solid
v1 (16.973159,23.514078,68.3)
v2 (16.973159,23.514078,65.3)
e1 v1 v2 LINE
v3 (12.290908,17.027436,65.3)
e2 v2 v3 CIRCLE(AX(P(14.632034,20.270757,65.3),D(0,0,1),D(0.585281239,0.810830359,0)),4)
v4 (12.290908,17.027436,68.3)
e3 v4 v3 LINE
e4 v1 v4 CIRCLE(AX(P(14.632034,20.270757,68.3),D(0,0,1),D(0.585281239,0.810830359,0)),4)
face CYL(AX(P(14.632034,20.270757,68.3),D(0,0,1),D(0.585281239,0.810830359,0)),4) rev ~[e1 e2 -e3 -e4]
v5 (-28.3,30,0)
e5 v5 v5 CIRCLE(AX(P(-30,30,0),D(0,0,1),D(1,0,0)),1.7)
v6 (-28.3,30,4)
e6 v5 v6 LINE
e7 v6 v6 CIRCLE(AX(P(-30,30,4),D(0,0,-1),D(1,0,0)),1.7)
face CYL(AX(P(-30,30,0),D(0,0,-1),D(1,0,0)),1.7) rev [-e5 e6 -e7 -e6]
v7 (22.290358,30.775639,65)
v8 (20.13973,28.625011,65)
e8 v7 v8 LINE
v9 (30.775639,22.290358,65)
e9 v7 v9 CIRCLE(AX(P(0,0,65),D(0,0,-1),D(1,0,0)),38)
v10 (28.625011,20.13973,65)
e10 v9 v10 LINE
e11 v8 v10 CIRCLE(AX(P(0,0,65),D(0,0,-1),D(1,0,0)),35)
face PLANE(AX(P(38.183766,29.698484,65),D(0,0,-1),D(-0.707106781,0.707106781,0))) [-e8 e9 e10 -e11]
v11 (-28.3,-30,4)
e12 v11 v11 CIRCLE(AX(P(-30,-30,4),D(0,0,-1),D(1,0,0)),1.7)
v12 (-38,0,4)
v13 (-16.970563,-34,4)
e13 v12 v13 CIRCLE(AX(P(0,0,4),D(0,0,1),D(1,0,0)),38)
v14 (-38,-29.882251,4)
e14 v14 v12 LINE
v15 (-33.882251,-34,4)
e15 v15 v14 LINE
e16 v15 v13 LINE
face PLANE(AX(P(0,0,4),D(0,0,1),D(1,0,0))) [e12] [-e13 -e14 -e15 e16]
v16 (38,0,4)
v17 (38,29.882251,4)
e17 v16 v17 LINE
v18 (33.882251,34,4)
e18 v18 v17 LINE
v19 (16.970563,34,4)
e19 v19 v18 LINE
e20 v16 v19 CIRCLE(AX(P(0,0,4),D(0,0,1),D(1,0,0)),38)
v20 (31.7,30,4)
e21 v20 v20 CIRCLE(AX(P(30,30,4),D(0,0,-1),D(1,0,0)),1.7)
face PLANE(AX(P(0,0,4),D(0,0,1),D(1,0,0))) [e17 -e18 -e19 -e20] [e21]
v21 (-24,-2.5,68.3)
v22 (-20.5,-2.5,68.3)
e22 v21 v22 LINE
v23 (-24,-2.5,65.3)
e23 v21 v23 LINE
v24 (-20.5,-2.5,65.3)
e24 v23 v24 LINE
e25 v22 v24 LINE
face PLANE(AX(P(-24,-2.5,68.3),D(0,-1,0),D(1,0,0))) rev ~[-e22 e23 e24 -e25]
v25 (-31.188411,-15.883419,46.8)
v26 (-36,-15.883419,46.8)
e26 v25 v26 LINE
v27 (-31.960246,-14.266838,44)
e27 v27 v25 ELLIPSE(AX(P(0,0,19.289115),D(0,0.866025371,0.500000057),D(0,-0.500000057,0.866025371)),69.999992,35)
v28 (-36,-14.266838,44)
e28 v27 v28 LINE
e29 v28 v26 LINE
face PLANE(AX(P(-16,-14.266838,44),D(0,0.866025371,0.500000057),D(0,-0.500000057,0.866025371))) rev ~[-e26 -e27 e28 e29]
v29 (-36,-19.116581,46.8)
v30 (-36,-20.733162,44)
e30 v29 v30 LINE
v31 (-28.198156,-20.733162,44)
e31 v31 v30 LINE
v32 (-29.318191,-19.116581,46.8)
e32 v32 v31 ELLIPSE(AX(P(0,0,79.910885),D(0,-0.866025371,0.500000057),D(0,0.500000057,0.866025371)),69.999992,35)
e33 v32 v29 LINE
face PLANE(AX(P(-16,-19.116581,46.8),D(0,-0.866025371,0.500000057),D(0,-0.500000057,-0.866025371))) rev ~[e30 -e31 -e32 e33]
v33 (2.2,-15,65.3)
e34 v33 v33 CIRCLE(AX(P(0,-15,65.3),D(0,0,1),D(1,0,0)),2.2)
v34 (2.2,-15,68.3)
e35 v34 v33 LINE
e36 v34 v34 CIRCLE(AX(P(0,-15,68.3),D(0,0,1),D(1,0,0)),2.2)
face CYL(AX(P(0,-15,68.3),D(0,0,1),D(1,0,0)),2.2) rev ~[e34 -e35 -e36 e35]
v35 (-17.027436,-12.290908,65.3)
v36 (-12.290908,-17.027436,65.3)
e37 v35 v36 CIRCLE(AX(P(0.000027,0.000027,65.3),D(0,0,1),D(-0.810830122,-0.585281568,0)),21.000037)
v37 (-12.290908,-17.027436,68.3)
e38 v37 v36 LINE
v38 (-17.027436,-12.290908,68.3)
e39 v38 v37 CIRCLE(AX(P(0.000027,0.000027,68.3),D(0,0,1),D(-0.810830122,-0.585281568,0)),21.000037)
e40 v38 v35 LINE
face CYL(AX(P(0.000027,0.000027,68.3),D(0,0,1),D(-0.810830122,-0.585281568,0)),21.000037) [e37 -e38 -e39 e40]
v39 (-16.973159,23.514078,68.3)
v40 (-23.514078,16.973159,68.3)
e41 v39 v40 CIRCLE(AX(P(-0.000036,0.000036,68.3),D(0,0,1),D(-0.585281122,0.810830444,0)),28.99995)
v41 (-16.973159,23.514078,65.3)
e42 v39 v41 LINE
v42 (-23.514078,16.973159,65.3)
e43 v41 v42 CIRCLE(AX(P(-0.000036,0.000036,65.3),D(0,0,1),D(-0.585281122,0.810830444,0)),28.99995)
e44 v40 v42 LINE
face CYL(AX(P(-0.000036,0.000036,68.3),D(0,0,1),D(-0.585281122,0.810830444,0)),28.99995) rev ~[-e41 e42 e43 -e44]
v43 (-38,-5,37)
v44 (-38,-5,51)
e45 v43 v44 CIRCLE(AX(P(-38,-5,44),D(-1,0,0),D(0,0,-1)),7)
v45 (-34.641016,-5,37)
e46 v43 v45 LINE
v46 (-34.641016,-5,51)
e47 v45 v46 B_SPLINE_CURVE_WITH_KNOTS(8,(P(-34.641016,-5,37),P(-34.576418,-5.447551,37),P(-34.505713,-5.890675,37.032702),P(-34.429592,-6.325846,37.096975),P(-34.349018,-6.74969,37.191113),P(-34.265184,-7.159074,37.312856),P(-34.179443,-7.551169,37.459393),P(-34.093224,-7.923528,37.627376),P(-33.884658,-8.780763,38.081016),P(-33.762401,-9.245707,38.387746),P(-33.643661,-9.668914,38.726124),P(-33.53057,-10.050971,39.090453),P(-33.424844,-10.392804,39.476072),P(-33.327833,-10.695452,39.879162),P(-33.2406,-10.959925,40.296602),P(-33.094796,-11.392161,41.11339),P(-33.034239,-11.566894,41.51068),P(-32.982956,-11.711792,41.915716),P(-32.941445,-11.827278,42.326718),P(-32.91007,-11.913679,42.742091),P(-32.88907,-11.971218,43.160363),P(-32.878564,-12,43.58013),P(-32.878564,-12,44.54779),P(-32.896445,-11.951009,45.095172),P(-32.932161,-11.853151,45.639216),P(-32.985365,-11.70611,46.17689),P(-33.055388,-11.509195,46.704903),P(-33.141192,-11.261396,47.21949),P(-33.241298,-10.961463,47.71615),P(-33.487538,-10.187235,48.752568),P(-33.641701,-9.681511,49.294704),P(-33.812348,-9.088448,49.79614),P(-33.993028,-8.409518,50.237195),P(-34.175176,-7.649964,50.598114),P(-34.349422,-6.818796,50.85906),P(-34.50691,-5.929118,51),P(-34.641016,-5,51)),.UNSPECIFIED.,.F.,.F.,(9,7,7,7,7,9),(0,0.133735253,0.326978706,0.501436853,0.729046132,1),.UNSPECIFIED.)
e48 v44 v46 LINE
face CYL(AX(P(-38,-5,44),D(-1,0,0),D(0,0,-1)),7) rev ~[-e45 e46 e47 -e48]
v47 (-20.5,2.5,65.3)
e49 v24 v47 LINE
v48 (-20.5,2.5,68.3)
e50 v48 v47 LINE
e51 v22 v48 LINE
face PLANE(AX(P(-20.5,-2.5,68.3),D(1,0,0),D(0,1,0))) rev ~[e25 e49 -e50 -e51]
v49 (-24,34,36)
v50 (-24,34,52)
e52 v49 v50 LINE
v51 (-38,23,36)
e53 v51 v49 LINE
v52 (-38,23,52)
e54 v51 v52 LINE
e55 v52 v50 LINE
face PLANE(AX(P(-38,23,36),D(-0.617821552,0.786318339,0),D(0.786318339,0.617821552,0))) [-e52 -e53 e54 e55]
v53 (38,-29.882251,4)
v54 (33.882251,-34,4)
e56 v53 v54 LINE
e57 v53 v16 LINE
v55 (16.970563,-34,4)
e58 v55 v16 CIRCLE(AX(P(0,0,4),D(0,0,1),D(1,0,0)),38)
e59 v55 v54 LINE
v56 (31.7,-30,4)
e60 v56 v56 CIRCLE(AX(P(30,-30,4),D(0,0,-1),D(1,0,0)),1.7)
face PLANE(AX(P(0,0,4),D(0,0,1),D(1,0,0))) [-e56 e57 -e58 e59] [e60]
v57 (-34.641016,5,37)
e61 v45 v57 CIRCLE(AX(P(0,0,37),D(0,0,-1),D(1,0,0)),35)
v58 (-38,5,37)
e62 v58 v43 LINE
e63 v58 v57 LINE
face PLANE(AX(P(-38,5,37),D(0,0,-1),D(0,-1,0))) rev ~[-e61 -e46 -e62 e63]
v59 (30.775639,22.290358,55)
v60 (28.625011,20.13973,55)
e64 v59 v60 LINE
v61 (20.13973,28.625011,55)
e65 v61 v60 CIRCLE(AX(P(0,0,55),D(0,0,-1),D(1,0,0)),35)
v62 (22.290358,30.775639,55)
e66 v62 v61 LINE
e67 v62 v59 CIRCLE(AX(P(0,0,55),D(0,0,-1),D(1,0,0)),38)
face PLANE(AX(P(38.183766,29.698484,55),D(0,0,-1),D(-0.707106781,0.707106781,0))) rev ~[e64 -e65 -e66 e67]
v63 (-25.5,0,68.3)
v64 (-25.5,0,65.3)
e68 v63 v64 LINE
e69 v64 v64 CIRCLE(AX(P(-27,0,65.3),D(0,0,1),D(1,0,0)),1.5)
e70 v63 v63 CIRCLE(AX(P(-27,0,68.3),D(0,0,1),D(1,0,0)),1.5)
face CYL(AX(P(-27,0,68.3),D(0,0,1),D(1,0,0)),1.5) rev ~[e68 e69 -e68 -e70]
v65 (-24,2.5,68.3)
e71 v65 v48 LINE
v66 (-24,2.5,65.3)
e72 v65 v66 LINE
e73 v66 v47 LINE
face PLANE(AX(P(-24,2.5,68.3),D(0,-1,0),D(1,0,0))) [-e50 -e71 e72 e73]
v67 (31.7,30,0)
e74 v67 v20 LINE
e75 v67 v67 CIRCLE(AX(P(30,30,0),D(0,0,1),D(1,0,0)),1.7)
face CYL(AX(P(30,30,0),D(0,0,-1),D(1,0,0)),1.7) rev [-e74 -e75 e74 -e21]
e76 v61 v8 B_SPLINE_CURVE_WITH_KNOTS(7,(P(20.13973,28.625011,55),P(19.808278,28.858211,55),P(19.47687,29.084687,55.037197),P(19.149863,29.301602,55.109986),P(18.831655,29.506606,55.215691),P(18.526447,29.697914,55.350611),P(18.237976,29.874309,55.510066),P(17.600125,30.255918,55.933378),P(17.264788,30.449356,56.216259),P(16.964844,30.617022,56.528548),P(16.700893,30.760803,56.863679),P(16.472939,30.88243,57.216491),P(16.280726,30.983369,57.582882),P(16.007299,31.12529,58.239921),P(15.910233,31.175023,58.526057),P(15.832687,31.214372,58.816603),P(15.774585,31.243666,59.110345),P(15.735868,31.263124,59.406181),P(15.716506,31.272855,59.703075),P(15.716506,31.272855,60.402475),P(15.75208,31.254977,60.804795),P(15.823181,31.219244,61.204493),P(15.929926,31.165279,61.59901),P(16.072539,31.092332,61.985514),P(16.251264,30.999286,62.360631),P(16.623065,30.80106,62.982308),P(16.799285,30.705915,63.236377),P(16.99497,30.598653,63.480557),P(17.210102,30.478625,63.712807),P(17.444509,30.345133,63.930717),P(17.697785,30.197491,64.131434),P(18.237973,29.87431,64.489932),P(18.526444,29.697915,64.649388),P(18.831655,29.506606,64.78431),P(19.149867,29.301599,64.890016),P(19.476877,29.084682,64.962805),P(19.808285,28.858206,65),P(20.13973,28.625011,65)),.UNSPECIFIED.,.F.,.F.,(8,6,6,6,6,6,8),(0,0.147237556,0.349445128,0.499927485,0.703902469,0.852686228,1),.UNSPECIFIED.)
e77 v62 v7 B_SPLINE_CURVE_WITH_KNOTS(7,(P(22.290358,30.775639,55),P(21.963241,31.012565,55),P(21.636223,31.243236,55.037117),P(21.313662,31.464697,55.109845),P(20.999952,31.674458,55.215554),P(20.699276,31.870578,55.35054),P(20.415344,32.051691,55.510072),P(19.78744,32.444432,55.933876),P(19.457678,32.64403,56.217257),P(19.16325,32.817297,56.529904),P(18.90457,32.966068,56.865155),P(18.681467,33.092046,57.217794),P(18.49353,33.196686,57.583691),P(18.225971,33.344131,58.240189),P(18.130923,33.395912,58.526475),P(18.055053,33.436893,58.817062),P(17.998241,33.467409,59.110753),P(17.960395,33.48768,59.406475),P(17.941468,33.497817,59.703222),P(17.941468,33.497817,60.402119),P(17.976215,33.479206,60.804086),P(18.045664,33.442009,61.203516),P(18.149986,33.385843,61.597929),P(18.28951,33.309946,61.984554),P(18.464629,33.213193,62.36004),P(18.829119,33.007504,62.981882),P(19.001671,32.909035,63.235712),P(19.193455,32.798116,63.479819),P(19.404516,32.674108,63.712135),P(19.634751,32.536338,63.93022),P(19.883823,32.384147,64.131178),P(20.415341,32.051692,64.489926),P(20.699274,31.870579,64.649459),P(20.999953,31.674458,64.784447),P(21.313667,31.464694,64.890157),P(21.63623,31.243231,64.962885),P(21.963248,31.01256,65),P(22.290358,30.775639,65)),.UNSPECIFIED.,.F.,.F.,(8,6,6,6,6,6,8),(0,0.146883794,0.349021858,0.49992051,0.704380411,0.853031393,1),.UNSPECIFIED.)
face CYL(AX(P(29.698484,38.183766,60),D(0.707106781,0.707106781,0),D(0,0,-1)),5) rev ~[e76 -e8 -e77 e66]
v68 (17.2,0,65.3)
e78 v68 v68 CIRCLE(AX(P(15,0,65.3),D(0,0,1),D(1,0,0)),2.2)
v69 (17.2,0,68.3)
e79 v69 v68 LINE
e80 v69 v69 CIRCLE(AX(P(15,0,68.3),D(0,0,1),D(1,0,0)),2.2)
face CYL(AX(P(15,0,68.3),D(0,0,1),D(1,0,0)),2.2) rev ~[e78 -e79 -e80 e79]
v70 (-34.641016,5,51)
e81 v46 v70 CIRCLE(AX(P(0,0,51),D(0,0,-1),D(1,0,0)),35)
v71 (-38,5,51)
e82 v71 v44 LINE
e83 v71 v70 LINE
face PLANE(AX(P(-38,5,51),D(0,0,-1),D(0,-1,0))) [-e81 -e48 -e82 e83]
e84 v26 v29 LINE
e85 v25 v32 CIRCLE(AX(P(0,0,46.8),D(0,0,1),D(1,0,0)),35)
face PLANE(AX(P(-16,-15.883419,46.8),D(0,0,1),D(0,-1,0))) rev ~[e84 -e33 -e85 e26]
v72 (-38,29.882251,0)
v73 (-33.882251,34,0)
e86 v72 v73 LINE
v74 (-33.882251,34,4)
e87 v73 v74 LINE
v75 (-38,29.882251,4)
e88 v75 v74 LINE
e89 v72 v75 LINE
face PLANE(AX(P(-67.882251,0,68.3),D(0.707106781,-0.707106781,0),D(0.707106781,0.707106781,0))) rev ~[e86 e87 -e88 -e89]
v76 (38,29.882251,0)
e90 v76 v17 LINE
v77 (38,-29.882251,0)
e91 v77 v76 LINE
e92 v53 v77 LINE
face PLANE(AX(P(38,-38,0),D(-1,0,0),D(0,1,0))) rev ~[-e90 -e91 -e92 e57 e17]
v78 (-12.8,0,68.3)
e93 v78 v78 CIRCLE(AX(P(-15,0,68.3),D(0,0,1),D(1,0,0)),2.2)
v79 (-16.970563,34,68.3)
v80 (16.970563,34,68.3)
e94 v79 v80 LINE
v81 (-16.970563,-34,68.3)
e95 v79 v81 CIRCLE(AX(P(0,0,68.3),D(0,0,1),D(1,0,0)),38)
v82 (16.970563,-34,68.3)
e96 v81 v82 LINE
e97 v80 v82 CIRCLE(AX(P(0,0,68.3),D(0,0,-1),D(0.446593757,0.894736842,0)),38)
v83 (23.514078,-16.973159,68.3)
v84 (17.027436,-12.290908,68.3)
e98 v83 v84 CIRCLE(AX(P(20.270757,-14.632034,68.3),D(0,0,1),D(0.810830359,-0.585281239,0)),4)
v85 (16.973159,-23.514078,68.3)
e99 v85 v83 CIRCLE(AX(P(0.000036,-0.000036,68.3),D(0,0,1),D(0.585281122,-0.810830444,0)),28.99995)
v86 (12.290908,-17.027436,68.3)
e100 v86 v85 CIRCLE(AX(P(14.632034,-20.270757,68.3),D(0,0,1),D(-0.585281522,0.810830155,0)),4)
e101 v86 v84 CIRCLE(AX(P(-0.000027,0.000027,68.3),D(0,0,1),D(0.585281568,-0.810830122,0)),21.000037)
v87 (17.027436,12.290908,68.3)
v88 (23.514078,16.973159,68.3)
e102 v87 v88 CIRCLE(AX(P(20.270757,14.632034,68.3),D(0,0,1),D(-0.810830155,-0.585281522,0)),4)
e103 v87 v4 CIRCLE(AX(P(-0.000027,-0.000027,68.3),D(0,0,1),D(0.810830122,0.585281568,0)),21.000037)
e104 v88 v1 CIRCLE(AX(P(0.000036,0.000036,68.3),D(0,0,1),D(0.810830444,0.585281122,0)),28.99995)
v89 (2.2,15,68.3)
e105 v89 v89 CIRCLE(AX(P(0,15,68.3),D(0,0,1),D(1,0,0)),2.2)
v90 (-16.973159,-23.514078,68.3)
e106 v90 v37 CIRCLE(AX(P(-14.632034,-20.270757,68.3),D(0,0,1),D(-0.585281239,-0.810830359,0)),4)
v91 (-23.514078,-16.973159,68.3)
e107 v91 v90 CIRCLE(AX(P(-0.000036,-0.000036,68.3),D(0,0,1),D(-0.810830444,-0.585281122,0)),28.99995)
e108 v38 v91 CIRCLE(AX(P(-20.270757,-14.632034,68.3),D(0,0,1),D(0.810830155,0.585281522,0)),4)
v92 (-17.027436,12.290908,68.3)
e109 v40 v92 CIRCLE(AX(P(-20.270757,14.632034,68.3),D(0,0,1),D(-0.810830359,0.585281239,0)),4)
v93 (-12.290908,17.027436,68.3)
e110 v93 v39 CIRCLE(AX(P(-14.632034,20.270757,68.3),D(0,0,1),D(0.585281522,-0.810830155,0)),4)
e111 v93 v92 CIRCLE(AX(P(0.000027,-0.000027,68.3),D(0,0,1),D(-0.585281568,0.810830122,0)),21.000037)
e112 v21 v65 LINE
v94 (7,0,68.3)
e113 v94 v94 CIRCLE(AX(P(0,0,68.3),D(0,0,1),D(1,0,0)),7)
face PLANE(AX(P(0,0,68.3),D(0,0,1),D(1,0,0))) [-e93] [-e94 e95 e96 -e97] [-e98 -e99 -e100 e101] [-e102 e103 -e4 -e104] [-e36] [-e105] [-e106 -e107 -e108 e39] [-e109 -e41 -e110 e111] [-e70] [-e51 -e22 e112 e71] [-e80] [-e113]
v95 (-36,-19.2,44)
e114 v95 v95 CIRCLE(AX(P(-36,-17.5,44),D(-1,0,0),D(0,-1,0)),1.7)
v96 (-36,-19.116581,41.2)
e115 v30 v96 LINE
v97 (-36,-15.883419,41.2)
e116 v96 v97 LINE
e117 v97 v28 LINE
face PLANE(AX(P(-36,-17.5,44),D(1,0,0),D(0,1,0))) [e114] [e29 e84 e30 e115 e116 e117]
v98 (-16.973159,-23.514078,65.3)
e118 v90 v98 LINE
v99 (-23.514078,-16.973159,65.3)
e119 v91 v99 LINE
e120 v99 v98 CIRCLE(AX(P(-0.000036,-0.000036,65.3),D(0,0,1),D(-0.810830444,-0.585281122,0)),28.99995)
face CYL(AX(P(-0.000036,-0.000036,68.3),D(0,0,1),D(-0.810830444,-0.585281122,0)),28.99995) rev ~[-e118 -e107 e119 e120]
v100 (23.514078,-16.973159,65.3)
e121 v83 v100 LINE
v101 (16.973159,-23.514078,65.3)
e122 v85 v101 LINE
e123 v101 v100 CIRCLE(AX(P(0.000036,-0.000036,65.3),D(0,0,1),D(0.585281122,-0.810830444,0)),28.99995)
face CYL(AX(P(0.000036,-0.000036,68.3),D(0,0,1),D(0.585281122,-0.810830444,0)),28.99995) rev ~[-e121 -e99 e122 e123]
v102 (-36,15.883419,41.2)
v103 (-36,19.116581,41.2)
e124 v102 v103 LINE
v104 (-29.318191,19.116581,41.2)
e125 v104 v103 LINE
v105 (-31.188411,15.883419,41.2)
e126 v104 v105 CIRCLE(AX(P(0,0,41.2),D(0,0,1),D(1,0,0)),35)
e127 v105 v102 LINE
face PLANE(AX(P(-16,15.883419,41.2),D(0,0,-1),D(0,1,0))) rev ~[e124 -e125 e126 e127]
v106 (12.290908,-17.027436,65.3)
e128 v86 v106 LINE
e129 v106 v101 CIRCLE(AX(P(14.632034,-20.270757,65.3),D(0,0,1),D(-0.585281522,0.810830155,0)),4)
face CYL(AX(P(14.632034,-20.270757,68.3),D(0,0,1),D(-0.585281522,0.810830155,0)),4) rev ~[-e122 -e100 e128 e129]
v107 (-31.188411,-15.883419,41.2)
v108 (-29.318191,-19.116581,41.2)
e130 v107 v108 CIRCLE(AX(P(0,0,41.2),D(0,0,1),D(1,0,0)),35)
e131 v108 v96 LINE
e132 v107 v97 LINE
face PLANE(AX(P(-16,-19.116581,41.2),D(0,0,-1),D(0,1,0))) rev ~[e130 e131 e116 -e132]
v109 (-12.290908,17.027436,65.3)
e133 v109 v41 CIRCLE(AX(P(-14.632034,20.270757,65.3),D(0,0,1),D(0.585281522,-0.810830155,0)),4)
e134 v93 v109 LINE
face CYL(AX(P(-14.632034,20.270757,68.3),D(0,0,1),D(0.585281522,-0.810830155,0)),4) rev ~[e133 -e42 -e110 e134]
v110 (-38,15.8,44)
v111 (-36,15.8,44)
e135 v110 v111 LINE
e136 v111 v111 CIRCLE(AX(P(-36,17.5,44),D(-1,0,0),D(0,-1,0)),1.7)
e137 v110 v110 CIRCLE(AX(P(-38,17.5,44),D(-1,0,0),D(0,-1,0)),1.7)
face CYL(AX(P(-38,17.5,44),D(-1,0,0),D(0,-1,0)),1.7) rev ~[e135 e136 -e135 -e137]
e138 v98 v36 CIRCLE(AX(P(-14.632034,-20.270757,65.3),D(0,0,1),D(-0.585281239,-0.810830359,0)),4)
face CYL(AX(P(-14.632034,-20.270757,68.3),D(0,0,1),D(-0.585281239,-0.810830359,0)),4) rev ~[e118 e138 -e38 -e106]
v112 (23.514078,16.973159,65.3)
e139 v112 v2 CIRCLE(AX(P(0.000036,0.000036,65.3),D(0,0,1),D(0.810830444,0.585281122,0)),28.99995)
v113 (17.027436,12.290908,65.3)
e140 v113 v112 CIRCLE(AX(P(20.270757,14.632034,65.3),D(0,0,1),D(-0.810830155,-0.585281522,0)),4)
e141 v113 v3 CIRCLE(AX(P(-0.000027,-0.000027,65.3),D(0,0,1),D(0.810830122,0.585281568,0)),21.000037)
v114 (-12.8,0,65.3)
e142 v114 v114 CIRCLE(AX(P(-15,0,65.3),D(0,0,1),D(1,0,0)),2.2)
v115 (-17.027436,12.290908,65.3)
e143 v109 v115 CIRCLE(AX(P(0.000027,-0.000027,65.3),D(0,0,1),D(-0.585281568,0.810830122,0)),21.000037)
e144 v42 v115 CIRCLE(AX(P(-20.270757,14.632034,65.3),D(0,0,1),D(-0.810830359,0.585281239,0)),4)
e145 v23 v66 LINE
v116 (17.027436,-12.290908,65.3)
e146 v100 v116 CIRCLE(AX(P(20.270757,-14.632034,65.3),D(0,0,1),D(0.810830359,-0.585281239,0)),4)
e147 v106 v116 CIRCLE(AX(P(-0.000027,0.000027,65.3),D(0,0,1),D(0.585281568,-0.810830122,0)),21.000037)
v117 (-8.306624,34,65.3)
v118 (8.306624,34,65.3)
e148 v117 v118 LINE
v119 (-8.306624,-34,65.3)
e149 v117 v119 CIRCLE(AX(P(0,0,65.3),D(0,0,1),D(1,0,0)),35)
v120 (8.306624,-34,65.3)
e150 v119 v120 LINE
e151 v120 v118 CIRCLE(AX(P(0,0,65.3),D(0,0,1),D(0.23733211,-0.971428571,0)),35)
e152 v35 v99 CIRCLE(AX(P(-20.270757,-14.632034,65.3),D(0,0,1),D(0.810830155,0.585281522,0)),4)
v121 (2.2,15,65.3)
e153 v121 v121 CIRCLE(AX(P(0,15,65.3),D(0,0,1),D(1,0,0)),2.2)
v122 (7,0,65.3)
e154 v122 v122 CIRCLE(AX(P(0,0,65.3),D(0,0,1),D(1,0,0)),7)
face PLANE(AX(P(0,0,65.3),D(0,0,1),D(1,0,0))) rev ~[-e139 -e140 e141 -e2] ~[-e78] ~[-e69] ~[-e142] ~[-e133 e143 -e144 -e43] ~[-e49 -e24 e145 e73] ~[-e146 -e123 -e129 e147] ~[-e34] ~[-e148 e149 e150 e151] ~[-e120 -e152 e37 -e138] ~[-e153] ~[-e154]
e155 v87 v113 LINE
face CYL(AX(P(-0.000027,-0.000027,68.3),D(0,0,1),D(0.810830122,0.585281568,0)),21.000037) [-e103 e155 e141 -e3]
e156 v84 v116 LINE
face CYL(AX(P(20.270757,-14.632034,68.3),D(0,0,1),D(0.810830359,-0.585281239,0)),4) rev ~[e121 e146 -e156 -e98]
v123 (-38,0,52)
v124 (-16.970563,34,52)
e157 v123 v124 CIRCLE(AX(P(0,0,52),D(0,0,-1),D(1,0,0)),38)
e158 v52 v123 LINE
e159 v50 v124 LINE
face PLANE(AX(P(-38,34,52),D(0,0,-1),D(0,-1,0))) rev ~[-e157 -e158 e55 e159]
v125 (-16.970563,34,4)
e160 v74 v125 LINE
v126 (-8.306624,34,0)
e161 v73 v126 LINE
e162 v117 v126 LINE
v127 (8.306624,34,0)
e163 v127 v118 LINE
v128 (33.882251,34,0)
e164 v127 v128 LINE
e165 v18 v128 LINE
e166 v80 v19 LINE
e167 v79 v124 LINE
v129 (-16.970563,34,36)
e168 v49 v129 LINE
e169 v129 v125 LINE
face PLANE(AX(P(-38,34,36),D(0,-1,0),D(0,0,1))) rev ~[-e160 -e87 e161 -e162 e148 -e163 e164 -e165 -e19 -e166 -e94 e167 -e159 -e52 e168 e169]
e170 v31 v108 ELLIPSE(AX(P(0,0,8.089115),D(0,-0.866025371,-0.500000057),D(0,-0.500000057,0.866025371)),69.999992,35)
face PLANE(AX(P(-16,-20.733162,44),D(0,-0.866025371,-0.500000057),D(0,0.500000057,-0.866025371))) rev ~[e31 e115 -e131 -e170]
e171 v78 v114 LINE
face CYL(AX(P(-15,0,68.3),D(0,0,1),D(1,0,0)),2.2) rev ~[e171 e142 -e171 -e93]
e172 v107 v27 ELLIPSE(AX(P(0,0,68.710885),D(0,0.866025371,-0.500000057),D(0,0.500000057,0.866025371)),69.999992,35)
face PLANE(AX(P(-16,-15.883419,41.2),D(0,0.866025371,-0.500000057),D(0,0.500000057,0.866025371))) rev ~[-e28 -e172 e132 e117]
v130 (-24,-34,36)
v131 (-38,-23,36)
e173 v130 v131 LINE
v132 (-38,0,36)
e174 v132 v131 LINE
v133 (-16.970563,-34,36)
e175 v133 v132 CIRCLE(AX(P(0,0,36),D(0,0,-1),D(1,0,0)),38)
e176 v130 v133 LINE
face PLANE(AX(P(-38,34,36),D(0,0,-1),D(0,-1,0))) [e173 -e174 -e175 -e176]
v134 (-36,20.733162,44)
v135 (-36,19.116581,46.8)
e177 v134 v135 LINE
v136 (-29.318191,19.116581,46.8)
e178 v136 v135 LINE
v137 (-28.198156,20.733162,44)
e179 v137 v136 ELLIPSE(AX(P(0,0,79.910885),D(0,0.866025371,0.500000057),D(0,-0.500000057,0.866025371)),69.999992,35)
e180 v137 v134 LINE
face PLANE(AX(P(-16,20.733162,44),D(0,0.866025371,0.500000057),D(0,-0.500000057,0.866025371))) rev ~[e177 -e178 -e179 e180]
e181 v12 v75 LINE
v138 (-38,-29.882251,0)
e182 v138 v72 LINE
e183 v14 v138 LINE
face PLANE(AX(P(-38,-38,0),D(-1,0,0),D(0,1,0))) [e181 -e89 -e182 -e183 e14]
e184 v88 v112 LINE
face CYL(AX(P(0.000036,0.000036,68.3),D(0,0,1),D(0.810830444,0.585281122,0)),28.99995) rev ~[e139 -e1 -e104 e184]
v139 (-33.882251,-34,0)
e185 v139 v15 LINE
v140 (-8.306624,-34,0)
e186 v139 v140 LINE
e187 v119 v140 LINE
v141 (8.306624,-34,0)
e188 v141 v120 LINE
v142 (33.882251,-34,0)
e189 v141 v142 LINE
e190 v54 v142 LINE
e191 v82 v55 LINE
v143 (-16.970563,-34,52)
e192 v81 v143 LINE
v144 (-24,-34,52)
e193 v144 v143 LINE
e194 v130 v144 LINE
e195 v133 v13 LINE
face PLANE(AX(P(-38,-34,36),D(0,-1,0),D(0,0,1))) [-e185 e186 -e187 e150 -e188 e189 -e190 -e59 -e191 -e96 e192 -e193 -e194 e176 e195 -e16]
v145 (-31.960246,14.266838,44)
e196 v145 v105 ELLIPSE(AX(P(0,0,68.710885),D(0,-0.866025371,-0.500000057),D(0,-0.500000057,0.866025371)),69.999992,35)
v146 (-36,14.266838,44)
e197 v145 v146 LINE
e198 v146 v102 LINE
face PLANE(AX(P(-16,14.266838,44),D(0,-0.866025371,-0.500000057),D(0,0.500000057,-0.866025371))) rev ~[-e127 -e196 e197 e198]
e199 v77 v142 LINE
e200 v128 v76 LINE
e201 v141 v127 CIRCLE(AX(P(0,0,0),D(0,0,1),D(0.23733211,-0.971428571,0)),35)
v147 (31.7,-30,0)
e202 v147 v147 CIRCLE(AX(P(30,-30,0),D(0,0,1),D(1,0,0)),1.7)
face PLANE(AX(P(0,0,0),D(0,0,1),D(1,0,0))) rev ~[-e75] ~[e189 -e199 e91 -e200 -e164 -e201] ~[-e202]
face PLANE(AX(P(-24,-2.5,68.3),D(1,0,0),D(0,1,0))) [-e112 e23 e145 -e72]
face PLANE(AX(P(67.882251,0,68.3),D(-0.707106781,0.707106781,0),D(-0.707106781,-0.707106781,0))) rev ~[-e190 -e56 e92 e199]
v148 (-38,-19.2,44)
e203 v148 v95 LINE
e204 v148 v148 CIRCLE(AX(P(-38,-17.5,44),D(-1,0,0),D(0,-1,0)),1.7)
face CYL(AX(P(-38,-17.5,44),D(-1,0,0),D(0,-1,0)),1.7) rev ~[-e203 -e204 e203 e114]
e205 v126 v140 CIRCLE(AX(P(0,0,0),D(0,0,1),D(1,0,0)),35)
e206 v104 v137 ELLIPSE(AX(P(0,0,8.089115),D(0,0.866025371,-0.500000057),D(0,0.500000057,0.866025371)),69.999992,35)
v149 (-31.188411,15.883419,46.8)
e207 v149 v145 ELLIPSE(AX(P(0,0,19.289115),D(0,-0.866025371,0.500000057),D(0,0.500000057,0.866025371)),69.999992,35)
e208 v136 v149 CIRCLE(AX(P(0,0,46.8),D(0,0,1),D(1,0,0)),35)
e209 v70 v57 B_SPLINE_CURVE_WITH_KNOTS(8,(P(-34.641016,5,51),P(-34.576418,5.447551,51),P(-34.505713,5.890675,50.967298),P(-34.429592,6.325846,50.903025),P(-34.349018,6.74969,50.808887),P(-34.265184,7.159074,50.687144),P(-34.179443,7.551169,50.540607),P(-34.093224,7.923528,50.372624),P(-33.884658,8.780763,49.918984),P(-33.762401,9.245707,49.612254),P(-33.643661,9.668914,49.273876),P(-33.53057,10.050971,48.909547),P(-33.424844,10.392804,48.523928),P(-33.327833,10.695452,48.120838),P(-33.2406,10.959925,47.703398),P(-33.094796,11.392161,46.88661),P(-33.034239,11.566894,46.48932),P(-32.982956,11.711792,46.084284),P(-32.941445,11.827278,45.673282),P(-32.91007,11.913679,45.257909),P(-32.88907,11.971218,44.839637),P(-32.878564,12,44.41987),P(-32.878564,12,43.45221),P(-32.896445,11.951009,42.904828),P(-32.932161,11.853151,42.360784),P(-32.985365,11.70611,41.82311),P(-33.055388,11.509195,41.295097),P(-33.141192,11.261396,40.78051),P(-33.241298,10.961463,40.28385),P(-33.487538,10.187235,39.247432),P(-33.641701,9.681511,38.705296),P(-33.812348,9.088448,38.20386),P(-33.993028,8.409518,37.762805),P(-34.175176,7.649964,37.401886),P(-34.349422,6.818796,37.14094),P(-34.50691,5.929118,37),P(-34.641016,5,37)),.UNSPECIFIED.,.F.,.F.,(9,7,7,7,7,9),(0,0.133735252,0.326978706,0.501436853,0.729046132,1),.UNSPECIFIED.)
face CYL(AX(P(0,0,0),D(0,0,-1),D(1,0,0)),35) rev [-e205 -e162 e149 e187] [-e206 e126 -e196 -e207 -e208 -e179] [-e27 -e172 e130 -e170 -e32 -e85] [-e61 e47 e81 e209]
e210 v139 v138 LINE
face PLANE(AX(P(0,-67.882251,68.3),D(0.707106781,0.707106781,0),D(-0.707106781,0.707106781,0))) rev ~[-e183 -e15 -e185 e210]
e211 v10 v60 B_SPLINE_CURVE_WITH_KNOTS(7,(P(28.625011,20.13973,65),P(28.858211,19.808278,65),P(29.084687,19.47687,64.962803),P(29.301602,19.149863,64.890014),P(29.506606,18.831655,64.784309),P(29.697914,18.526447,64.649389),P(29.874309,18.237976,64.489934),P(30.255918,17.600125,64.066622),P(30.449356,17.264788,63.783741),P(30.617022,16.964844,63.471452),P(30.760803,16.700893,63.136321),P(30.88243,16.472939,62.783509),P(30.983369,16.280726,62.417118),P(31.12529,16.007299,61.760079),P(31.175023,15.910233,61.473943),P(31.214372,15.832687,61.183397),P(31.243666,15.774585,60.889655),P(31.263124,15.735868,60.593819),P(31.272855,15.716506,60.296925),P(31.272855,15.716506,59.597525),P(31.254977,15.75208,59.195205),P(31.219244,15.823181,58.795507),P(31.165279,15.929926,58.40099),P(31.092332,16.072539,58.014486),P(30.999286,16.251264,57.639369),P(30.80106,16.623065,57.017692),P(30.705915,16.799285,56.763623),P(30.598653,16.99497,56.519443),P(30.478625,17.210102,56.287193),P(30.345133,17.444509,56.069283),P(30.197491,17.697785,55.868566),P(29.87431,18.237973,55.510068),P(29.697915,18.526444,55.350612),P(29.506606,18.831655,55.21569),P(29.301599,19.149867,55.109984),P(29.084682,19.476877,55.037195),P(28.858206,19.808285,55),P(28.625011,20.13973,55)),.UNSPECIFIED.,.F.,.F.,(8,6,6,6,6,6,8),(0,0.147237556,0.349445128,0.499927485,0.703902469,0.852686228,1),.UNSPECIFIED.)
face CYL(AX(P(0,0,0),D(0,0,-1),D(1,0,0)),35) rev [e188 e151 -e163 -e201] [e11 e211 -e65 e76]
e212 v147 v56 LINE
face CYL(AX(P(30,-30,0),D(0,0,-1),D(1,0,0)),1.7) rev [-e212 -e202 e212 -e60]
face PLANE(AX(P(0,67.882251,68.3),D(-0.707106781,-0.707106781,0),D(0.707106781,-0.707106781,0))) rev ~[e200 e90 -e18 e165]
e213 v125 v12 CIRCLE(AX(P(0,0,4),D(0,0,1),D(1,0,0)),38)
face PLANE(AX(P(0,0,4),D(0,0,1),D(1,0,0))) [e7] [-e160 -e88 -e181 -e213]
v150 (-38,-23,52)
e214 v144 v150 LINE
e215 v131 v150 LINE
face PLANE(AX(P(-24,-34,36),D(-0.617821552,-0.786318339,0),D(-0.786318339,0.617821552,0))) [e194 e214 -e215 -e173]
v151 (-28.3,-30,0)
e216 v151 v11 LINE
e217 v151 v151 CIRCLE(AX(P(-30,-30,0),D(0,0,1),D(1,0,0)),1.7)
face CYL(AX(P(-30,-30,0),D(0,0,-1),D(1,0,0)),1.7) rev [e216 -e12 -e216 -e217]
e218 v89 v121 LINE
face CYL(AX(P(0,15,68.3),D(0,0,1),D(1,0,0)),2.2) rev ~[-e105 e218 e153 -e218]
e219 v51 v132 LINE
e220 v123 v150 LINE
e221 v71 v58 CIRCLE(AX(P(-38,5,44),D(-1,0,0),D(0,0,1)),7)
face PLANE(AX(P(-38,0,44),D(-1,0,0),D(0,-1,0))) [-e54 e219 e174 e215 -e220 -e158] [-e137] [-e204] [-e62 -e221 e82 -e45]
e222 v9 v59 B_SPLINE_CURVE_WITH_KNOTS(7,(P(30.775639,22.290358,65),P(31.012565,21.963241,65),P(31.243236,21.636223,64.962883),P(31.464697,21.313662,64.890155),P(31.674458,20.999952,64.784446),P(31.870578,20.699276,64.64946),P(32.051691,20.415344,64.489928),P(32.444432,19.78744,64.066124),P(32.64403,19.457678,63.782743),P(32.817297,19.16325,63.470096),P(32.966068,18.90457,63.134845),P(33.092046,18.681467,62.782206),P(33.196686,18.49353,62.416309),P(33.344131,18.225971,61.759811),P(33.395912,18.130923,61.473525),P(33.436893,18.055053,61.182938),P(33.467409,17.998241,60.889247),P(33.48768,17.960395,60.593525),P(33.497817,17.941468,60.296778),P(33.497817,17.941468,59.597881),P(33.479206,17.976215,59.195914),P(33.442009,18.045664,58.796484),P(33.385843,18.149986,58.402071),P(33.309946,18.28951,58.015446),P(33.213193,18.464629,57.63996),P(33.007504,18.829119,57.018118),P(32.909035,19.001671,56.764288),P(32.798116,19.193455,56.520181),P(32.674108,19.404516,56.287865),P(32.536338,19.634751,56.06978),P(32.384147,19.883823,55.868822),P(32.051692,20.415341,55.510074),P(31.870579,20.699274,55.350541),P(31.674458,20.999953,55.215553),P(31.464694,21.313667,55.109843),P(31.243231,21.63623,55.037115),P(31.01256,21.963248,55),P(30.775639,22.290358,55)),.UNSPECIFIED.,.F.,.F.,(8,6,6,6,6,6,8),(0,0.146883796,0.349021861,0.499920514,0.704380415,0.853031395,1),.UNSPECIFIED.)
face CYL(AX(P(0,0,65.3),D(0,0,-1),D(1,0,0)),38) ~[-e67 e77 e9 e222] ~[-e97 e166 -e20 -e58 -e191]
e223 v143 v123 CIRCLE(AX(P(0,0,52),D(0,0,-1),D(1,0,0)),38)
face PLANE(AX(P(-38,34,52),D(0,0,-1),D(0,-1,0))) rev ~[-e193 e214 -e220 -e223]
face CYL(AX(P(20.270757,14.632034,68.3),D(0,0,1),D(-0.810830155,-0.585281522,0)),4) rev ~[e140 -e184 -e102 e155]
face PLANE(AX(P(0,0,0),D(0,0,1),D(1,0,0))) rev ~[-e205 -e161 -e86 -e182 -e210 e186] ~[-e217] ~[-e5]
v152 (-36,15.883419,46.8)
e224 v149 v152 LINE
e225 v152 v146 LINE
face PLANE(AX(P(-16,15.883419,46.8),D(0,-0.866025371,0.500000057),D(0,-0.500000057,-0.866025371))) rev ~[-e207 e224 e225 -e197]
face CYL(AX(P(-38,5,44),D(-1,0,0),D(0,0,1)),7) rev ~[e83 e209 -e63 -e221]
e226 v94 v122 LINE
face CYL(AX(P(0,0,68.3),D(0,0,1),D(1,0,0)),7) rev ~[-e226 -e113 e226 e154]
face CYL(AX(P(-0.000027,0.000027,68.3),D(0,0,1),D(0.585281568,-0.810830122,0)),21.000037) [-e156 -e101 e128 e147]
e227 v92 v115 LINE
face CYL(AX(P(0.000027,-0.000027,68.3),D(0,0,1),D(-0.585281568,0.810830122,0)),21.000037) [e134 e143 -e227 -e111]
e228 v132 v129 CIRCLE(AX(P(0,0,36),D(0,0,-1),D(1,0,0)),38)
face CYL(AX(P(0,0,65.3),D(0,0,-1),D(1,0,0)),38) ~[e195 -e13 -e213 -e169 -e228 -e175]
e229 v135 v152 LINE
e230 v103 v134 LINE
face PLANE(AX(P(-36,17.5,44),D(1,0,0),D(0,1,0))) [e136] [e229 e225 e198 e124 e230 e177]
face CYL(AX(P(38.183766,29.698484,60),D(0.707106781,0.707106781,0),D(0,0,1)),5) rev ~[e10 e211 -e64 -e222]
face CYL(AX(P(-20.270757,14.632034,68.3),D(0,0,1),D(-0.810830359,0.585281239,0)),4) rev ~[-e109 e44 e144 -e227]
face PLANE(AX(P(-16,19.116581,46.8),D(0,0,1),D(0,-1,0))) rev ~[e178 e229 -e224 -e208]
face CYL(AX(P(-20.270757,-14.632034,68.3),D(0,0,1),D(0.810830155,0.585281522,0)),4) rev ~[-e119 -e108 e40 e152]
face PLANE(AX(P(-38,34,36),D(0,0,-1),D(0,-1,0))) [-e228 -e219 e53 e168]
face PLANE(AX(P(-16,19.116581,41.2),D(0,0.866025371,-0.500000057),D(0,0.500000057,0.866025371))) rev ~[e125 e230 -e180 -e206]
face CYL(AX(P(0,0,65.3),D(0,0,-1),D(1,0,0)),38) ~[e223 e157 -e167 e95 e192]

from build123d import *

# Parameters (mm, degrees)
SKETCH_W        = 76
SKETCH_H        = 76
SKETCH_R        = 35
SKETCH_R_2      = 1.7
PAD_DEPTH       = 65.3
SKETCH001_R     = 60
SKETCH001_R_2   = 38
POCKET_DEPTH    = 61.3
SKETCH002_R     = 38
PAD001_DEPTH    = 3
SKETCH003_W     = 100
SKETCH003_H     = 100
SKETCH003_W_2   = 80
SKETCH003_H_2   = 68
POCKET001_DEPTH = 68.301
SKETCH004_W     = 68
SKETCH004_H     = 16
PAD002_DEPTH    = 22
POCKET002_DEPTH = 25
POCKET003_DEPTH = 20
SKETCH030_R     = 35
POCKET004_DEPTH = 18
SKETCH031_R     = 1.7
POCKET005_DEPTH = 30
SKETCH022_R     = 7
SKETCH022_R_2   = 1.5
SKETCH022_R_3   = 2.2
SKETCH022_W     = 3.5
SKETCH022_H     = 5
POCKET006_DEPTH = 5
SKETCH032_W     = 220
SKETCH032_H     = 220
POCKET007_DEPTH = 68.301
POCKET008_DEPTH = 20


with BuildPart() as part:
    # Sketch → Pad (new body)
    with BuildSketch(Plane.XY):
        Rectangle(SKETCH_W, SKETCH_H)
        Circle(SKETCH_R, mode=Mode.SUBTRACT)
        with Locations((-30, 30)):
            Circle(SKETCH_R_2, mode=Mode.SUBTRACT)
        with Locations((30, 30)):
            Circle(SKETCH_R_2, mode=Mode.SUBTRACT)
        with Locations((30, -30)):
            Circle(SKETCH_R_2, mode=Mode.SUBTRACT)
        with Locations((-30, -30)):
            Circle(SKETCH_R_2, mode=Mode.SUBTRACT)
    extrude(amount=PAD_DEPTH)

    # Sketch001 → Pocket (cut)
    with BuildSketch(Plane.XY.offset(65.3)):
        Circle(SKETCH001_R)
        Circle(SKETCH001_R_2, mode=Mode.SUBTRACT)
    extrude(amount=-POCKET_DEPTH, mode=Mode.SUBTRACT)

    # Sketch002 → Pad001 (new body)
    with BuildSketch(Plane.XY.offset(65.3)):
        Circle(SKETCH002_R)
    extrude(amount=PAD001_DEPTH)

    # Sketch003 → Pocket001 (cut, through all)
    with BuildSketch(Plane.XY.offset(68.3)):
        Rectangle(SKETCH003_W, SKETCH003_H)
        Rectangle(SKETCH003_W_2, SKETCH003_H_2, mode=Mode.SUBTRACT)
    extrude(amount=-POCKET001_DEPTH, mode=Mode.SUBTRACT)

    # Sketch004 → Pad002 (new body)
    with BuildSketch(Plane(origin=(-38, 0, 0), x_dir=(0, -1, 0), z_dir=(-1, 0, 0))):
        with Locations((0, 44)):
            Rectangle(SKETCH004_W, SKETCH004_H)
    extrude(amount=-PAD002_DEPTH)

    # Sketch005 → Pocket002 (cut)
    with BuildSketch(Plane(origin=(0, 0, 36), x_dir=(1, 0, 0), z_dir=(0, 0, -1))):
        Polygon((-38, 23), (-38, -23), (-24, -34), (-55, -34), (-55, 34), (-24, 34), align=None)
    extrude(amount=-POCKET002_DEPTH, mode=Mode.SUBTRACT)

    # Sketch029 → Pocket003 (cut)
    with BuildSketch(Plane.YZ.offset(-16)):
        Polygon((-15.883419, 41.2), (-14.266838, 44), (-15.883419, 46.8), (-19.116581, 46.8), (-20.733162, 44), (-19.116581, 41.2), align=None)
        Polygon((14.266838, 44), (15.883419, 41.2), (19.116581, 41.2), (20.733162, 44), (19.116581, 46.8), (15.883419, 46.8), align=None)
    extrude(amount=-POCKET003_DEPTH, mode=Mode.SUBTRACT)

    # Sketch030 → Pocket004 (cut)
    with BuildSketch(Plane.XY.offset(52)):
        Circle(SKETCH030_R)
    extrude(amount=-POCKET004_DEPTH, mode=Mode.SUBTRACT)

    # Sketch031 → Pocket005 (cut)
    with BuildSketch(Plane(origin=(-38, 0, 0), x_dir=(0, -1, 0), z_dir=(-1, 0, 0))):
        with Locations((-17.5, 44)):
            Circle(SKETCH031_R)
        with Locations((17.5, 44)):
            Circle(SKETCH031_R)
        with BuildLine():
            ThreePointArc((-5, 51), (-12, 44), (-5, 37))
            Line((-5, 37), (5, 37))
            ThreePointArc((5, 37), (12, 44), (5, 51))
            Line((-5, 51), (5, 51))
        make_face()
    extrude(amount=-POCKET005_DEPTH, mode=Mode.SUBTRACT)

    # Sketch022 → Pocket006 (cut)
    with BuildSketch(Plane.XY.offset(68.3)):
        Circle(SKETCH022_R)
        with Locations((-27, 0)):
            Circle(SKETCH022_R_2)
        with Locations((0, -15)):
            Circle(SKETCH022_R_3)
        with Locations((0, 15)):
            Circle(SKETCH022_R_3)
        with Locations((15, 0)):
            Circle(SKETCH022_R_3)
        with Locations((-15, 0)):
            Circle(SKETCH022_R_3)
        with BuildLine():
            ThreePointArc((-23.514078, 16.973159), (-22.611882, 11.388713), (-17.027436, 12.290908))
            ThreePointArc((-12.290908, 17.027436), (-14.849242, 14.849242), (-17.027436, 12.290908))
            ThreePointArc((-12.290908, 17.027436), (-11.388713, 22.611882), (-16.973159, 23.514078))
            ThreePointArc((-16.973159, 23.514078), (-20.506097, 20.506097), (-23.514078, 16.973159))
        make_face()
        with BuildLine():
            ThreePointArc((12.290908, -17.027436), (14.849242, -14.849242), (17.027436, -12.290908))
            ThreePointArc((23.514078, -16.973159), (22.611882, -11.388713), (17.027436, -12.290908))
            ThreePointArc((16.973159, -23.514078), (20.506097, -20.506097), (23.514078, -16.973159))
            ThreePointArc((12.290908, -17.027436), (11.388713, -22.611882), (16.973159, -23.514078))
        make_face()
        with BuildLine():
            ThreePointArc((23.514078, 16.973159), (20.506097, 20.506097), (16.973159, 23.514078))
            ThreePointArc((16.973159, 23.514078), (11.388713, 22.611882), (12.290908, 17.027436))
            ThreePointArc((17.027436, 12.290908), (14.849242, 14.849242), (12.290908, 17.027436))
            ThreePointArc((17.027436, 12.290908), (22.611882, 11.388713), (23.514078, 16.973159))
        make_face()
        with BuildLine():
            ThreePointArc((-16.973159, -23.514078), (-11.388713, -22.611882), (-12.290908, -17.027436))
            ThreePointArc((-17.027436, -12.290908), (-14.849242, -14.849242), (-12.290908, -17.027436))
            ThreePointArc((-17.027436, -12.290908), (-22.611882, -11.388713), (-23.514078, -16.973159))
            ThreePointArc((-23.514078, -16.973159), (-20.506097, -20.506097), (-16.973159, -23.514078))
        make_face()
        with Locations((-22.25, 0)):
            Rectangle(SKETCH022_W, SKETCH022_H)
    extrude(amount=-POCKET006_DEPTH, mode=Mode.SUBTRACT)

    # Sketch032 → Pocket007 (cut, through all)
    with BuildSketch(Plane.XY.offset(68.3)):
        Rectangle(SKETCH032_W, SKETCH032_H)
        Polygon((-67.882251, 0), (0, 67.882251), (67.882251, 0), (0, -67.882251), align=None, mode=Mode.SUBTRACT)
    extrude(amount=-POCKET007_DEPTH, mode=Mode.SUBTRACT)

    # Sketch033 → Pocket008 (cut)
    with BuildSketch(Plane(origin=(33.941125, 33.941125, 0), x_dir=(-0.707107, 0.707107, 0), z_dir=(0.707107, 0.707107, 0))):
        with BuildLine():
            ThreePointArc((-6, 65), (-11, 60), (-6, 55))
            Line((-6, 55), (6, 55))
            ThreePointArc((6, 55), (11, 60), (6, 65))
            Line((-6, 65), (6, 65))
        make_face()
    extrude(amount=-POCKET008_DEPTH, mode=Mode.SUBTRACT)


solid = part.part
